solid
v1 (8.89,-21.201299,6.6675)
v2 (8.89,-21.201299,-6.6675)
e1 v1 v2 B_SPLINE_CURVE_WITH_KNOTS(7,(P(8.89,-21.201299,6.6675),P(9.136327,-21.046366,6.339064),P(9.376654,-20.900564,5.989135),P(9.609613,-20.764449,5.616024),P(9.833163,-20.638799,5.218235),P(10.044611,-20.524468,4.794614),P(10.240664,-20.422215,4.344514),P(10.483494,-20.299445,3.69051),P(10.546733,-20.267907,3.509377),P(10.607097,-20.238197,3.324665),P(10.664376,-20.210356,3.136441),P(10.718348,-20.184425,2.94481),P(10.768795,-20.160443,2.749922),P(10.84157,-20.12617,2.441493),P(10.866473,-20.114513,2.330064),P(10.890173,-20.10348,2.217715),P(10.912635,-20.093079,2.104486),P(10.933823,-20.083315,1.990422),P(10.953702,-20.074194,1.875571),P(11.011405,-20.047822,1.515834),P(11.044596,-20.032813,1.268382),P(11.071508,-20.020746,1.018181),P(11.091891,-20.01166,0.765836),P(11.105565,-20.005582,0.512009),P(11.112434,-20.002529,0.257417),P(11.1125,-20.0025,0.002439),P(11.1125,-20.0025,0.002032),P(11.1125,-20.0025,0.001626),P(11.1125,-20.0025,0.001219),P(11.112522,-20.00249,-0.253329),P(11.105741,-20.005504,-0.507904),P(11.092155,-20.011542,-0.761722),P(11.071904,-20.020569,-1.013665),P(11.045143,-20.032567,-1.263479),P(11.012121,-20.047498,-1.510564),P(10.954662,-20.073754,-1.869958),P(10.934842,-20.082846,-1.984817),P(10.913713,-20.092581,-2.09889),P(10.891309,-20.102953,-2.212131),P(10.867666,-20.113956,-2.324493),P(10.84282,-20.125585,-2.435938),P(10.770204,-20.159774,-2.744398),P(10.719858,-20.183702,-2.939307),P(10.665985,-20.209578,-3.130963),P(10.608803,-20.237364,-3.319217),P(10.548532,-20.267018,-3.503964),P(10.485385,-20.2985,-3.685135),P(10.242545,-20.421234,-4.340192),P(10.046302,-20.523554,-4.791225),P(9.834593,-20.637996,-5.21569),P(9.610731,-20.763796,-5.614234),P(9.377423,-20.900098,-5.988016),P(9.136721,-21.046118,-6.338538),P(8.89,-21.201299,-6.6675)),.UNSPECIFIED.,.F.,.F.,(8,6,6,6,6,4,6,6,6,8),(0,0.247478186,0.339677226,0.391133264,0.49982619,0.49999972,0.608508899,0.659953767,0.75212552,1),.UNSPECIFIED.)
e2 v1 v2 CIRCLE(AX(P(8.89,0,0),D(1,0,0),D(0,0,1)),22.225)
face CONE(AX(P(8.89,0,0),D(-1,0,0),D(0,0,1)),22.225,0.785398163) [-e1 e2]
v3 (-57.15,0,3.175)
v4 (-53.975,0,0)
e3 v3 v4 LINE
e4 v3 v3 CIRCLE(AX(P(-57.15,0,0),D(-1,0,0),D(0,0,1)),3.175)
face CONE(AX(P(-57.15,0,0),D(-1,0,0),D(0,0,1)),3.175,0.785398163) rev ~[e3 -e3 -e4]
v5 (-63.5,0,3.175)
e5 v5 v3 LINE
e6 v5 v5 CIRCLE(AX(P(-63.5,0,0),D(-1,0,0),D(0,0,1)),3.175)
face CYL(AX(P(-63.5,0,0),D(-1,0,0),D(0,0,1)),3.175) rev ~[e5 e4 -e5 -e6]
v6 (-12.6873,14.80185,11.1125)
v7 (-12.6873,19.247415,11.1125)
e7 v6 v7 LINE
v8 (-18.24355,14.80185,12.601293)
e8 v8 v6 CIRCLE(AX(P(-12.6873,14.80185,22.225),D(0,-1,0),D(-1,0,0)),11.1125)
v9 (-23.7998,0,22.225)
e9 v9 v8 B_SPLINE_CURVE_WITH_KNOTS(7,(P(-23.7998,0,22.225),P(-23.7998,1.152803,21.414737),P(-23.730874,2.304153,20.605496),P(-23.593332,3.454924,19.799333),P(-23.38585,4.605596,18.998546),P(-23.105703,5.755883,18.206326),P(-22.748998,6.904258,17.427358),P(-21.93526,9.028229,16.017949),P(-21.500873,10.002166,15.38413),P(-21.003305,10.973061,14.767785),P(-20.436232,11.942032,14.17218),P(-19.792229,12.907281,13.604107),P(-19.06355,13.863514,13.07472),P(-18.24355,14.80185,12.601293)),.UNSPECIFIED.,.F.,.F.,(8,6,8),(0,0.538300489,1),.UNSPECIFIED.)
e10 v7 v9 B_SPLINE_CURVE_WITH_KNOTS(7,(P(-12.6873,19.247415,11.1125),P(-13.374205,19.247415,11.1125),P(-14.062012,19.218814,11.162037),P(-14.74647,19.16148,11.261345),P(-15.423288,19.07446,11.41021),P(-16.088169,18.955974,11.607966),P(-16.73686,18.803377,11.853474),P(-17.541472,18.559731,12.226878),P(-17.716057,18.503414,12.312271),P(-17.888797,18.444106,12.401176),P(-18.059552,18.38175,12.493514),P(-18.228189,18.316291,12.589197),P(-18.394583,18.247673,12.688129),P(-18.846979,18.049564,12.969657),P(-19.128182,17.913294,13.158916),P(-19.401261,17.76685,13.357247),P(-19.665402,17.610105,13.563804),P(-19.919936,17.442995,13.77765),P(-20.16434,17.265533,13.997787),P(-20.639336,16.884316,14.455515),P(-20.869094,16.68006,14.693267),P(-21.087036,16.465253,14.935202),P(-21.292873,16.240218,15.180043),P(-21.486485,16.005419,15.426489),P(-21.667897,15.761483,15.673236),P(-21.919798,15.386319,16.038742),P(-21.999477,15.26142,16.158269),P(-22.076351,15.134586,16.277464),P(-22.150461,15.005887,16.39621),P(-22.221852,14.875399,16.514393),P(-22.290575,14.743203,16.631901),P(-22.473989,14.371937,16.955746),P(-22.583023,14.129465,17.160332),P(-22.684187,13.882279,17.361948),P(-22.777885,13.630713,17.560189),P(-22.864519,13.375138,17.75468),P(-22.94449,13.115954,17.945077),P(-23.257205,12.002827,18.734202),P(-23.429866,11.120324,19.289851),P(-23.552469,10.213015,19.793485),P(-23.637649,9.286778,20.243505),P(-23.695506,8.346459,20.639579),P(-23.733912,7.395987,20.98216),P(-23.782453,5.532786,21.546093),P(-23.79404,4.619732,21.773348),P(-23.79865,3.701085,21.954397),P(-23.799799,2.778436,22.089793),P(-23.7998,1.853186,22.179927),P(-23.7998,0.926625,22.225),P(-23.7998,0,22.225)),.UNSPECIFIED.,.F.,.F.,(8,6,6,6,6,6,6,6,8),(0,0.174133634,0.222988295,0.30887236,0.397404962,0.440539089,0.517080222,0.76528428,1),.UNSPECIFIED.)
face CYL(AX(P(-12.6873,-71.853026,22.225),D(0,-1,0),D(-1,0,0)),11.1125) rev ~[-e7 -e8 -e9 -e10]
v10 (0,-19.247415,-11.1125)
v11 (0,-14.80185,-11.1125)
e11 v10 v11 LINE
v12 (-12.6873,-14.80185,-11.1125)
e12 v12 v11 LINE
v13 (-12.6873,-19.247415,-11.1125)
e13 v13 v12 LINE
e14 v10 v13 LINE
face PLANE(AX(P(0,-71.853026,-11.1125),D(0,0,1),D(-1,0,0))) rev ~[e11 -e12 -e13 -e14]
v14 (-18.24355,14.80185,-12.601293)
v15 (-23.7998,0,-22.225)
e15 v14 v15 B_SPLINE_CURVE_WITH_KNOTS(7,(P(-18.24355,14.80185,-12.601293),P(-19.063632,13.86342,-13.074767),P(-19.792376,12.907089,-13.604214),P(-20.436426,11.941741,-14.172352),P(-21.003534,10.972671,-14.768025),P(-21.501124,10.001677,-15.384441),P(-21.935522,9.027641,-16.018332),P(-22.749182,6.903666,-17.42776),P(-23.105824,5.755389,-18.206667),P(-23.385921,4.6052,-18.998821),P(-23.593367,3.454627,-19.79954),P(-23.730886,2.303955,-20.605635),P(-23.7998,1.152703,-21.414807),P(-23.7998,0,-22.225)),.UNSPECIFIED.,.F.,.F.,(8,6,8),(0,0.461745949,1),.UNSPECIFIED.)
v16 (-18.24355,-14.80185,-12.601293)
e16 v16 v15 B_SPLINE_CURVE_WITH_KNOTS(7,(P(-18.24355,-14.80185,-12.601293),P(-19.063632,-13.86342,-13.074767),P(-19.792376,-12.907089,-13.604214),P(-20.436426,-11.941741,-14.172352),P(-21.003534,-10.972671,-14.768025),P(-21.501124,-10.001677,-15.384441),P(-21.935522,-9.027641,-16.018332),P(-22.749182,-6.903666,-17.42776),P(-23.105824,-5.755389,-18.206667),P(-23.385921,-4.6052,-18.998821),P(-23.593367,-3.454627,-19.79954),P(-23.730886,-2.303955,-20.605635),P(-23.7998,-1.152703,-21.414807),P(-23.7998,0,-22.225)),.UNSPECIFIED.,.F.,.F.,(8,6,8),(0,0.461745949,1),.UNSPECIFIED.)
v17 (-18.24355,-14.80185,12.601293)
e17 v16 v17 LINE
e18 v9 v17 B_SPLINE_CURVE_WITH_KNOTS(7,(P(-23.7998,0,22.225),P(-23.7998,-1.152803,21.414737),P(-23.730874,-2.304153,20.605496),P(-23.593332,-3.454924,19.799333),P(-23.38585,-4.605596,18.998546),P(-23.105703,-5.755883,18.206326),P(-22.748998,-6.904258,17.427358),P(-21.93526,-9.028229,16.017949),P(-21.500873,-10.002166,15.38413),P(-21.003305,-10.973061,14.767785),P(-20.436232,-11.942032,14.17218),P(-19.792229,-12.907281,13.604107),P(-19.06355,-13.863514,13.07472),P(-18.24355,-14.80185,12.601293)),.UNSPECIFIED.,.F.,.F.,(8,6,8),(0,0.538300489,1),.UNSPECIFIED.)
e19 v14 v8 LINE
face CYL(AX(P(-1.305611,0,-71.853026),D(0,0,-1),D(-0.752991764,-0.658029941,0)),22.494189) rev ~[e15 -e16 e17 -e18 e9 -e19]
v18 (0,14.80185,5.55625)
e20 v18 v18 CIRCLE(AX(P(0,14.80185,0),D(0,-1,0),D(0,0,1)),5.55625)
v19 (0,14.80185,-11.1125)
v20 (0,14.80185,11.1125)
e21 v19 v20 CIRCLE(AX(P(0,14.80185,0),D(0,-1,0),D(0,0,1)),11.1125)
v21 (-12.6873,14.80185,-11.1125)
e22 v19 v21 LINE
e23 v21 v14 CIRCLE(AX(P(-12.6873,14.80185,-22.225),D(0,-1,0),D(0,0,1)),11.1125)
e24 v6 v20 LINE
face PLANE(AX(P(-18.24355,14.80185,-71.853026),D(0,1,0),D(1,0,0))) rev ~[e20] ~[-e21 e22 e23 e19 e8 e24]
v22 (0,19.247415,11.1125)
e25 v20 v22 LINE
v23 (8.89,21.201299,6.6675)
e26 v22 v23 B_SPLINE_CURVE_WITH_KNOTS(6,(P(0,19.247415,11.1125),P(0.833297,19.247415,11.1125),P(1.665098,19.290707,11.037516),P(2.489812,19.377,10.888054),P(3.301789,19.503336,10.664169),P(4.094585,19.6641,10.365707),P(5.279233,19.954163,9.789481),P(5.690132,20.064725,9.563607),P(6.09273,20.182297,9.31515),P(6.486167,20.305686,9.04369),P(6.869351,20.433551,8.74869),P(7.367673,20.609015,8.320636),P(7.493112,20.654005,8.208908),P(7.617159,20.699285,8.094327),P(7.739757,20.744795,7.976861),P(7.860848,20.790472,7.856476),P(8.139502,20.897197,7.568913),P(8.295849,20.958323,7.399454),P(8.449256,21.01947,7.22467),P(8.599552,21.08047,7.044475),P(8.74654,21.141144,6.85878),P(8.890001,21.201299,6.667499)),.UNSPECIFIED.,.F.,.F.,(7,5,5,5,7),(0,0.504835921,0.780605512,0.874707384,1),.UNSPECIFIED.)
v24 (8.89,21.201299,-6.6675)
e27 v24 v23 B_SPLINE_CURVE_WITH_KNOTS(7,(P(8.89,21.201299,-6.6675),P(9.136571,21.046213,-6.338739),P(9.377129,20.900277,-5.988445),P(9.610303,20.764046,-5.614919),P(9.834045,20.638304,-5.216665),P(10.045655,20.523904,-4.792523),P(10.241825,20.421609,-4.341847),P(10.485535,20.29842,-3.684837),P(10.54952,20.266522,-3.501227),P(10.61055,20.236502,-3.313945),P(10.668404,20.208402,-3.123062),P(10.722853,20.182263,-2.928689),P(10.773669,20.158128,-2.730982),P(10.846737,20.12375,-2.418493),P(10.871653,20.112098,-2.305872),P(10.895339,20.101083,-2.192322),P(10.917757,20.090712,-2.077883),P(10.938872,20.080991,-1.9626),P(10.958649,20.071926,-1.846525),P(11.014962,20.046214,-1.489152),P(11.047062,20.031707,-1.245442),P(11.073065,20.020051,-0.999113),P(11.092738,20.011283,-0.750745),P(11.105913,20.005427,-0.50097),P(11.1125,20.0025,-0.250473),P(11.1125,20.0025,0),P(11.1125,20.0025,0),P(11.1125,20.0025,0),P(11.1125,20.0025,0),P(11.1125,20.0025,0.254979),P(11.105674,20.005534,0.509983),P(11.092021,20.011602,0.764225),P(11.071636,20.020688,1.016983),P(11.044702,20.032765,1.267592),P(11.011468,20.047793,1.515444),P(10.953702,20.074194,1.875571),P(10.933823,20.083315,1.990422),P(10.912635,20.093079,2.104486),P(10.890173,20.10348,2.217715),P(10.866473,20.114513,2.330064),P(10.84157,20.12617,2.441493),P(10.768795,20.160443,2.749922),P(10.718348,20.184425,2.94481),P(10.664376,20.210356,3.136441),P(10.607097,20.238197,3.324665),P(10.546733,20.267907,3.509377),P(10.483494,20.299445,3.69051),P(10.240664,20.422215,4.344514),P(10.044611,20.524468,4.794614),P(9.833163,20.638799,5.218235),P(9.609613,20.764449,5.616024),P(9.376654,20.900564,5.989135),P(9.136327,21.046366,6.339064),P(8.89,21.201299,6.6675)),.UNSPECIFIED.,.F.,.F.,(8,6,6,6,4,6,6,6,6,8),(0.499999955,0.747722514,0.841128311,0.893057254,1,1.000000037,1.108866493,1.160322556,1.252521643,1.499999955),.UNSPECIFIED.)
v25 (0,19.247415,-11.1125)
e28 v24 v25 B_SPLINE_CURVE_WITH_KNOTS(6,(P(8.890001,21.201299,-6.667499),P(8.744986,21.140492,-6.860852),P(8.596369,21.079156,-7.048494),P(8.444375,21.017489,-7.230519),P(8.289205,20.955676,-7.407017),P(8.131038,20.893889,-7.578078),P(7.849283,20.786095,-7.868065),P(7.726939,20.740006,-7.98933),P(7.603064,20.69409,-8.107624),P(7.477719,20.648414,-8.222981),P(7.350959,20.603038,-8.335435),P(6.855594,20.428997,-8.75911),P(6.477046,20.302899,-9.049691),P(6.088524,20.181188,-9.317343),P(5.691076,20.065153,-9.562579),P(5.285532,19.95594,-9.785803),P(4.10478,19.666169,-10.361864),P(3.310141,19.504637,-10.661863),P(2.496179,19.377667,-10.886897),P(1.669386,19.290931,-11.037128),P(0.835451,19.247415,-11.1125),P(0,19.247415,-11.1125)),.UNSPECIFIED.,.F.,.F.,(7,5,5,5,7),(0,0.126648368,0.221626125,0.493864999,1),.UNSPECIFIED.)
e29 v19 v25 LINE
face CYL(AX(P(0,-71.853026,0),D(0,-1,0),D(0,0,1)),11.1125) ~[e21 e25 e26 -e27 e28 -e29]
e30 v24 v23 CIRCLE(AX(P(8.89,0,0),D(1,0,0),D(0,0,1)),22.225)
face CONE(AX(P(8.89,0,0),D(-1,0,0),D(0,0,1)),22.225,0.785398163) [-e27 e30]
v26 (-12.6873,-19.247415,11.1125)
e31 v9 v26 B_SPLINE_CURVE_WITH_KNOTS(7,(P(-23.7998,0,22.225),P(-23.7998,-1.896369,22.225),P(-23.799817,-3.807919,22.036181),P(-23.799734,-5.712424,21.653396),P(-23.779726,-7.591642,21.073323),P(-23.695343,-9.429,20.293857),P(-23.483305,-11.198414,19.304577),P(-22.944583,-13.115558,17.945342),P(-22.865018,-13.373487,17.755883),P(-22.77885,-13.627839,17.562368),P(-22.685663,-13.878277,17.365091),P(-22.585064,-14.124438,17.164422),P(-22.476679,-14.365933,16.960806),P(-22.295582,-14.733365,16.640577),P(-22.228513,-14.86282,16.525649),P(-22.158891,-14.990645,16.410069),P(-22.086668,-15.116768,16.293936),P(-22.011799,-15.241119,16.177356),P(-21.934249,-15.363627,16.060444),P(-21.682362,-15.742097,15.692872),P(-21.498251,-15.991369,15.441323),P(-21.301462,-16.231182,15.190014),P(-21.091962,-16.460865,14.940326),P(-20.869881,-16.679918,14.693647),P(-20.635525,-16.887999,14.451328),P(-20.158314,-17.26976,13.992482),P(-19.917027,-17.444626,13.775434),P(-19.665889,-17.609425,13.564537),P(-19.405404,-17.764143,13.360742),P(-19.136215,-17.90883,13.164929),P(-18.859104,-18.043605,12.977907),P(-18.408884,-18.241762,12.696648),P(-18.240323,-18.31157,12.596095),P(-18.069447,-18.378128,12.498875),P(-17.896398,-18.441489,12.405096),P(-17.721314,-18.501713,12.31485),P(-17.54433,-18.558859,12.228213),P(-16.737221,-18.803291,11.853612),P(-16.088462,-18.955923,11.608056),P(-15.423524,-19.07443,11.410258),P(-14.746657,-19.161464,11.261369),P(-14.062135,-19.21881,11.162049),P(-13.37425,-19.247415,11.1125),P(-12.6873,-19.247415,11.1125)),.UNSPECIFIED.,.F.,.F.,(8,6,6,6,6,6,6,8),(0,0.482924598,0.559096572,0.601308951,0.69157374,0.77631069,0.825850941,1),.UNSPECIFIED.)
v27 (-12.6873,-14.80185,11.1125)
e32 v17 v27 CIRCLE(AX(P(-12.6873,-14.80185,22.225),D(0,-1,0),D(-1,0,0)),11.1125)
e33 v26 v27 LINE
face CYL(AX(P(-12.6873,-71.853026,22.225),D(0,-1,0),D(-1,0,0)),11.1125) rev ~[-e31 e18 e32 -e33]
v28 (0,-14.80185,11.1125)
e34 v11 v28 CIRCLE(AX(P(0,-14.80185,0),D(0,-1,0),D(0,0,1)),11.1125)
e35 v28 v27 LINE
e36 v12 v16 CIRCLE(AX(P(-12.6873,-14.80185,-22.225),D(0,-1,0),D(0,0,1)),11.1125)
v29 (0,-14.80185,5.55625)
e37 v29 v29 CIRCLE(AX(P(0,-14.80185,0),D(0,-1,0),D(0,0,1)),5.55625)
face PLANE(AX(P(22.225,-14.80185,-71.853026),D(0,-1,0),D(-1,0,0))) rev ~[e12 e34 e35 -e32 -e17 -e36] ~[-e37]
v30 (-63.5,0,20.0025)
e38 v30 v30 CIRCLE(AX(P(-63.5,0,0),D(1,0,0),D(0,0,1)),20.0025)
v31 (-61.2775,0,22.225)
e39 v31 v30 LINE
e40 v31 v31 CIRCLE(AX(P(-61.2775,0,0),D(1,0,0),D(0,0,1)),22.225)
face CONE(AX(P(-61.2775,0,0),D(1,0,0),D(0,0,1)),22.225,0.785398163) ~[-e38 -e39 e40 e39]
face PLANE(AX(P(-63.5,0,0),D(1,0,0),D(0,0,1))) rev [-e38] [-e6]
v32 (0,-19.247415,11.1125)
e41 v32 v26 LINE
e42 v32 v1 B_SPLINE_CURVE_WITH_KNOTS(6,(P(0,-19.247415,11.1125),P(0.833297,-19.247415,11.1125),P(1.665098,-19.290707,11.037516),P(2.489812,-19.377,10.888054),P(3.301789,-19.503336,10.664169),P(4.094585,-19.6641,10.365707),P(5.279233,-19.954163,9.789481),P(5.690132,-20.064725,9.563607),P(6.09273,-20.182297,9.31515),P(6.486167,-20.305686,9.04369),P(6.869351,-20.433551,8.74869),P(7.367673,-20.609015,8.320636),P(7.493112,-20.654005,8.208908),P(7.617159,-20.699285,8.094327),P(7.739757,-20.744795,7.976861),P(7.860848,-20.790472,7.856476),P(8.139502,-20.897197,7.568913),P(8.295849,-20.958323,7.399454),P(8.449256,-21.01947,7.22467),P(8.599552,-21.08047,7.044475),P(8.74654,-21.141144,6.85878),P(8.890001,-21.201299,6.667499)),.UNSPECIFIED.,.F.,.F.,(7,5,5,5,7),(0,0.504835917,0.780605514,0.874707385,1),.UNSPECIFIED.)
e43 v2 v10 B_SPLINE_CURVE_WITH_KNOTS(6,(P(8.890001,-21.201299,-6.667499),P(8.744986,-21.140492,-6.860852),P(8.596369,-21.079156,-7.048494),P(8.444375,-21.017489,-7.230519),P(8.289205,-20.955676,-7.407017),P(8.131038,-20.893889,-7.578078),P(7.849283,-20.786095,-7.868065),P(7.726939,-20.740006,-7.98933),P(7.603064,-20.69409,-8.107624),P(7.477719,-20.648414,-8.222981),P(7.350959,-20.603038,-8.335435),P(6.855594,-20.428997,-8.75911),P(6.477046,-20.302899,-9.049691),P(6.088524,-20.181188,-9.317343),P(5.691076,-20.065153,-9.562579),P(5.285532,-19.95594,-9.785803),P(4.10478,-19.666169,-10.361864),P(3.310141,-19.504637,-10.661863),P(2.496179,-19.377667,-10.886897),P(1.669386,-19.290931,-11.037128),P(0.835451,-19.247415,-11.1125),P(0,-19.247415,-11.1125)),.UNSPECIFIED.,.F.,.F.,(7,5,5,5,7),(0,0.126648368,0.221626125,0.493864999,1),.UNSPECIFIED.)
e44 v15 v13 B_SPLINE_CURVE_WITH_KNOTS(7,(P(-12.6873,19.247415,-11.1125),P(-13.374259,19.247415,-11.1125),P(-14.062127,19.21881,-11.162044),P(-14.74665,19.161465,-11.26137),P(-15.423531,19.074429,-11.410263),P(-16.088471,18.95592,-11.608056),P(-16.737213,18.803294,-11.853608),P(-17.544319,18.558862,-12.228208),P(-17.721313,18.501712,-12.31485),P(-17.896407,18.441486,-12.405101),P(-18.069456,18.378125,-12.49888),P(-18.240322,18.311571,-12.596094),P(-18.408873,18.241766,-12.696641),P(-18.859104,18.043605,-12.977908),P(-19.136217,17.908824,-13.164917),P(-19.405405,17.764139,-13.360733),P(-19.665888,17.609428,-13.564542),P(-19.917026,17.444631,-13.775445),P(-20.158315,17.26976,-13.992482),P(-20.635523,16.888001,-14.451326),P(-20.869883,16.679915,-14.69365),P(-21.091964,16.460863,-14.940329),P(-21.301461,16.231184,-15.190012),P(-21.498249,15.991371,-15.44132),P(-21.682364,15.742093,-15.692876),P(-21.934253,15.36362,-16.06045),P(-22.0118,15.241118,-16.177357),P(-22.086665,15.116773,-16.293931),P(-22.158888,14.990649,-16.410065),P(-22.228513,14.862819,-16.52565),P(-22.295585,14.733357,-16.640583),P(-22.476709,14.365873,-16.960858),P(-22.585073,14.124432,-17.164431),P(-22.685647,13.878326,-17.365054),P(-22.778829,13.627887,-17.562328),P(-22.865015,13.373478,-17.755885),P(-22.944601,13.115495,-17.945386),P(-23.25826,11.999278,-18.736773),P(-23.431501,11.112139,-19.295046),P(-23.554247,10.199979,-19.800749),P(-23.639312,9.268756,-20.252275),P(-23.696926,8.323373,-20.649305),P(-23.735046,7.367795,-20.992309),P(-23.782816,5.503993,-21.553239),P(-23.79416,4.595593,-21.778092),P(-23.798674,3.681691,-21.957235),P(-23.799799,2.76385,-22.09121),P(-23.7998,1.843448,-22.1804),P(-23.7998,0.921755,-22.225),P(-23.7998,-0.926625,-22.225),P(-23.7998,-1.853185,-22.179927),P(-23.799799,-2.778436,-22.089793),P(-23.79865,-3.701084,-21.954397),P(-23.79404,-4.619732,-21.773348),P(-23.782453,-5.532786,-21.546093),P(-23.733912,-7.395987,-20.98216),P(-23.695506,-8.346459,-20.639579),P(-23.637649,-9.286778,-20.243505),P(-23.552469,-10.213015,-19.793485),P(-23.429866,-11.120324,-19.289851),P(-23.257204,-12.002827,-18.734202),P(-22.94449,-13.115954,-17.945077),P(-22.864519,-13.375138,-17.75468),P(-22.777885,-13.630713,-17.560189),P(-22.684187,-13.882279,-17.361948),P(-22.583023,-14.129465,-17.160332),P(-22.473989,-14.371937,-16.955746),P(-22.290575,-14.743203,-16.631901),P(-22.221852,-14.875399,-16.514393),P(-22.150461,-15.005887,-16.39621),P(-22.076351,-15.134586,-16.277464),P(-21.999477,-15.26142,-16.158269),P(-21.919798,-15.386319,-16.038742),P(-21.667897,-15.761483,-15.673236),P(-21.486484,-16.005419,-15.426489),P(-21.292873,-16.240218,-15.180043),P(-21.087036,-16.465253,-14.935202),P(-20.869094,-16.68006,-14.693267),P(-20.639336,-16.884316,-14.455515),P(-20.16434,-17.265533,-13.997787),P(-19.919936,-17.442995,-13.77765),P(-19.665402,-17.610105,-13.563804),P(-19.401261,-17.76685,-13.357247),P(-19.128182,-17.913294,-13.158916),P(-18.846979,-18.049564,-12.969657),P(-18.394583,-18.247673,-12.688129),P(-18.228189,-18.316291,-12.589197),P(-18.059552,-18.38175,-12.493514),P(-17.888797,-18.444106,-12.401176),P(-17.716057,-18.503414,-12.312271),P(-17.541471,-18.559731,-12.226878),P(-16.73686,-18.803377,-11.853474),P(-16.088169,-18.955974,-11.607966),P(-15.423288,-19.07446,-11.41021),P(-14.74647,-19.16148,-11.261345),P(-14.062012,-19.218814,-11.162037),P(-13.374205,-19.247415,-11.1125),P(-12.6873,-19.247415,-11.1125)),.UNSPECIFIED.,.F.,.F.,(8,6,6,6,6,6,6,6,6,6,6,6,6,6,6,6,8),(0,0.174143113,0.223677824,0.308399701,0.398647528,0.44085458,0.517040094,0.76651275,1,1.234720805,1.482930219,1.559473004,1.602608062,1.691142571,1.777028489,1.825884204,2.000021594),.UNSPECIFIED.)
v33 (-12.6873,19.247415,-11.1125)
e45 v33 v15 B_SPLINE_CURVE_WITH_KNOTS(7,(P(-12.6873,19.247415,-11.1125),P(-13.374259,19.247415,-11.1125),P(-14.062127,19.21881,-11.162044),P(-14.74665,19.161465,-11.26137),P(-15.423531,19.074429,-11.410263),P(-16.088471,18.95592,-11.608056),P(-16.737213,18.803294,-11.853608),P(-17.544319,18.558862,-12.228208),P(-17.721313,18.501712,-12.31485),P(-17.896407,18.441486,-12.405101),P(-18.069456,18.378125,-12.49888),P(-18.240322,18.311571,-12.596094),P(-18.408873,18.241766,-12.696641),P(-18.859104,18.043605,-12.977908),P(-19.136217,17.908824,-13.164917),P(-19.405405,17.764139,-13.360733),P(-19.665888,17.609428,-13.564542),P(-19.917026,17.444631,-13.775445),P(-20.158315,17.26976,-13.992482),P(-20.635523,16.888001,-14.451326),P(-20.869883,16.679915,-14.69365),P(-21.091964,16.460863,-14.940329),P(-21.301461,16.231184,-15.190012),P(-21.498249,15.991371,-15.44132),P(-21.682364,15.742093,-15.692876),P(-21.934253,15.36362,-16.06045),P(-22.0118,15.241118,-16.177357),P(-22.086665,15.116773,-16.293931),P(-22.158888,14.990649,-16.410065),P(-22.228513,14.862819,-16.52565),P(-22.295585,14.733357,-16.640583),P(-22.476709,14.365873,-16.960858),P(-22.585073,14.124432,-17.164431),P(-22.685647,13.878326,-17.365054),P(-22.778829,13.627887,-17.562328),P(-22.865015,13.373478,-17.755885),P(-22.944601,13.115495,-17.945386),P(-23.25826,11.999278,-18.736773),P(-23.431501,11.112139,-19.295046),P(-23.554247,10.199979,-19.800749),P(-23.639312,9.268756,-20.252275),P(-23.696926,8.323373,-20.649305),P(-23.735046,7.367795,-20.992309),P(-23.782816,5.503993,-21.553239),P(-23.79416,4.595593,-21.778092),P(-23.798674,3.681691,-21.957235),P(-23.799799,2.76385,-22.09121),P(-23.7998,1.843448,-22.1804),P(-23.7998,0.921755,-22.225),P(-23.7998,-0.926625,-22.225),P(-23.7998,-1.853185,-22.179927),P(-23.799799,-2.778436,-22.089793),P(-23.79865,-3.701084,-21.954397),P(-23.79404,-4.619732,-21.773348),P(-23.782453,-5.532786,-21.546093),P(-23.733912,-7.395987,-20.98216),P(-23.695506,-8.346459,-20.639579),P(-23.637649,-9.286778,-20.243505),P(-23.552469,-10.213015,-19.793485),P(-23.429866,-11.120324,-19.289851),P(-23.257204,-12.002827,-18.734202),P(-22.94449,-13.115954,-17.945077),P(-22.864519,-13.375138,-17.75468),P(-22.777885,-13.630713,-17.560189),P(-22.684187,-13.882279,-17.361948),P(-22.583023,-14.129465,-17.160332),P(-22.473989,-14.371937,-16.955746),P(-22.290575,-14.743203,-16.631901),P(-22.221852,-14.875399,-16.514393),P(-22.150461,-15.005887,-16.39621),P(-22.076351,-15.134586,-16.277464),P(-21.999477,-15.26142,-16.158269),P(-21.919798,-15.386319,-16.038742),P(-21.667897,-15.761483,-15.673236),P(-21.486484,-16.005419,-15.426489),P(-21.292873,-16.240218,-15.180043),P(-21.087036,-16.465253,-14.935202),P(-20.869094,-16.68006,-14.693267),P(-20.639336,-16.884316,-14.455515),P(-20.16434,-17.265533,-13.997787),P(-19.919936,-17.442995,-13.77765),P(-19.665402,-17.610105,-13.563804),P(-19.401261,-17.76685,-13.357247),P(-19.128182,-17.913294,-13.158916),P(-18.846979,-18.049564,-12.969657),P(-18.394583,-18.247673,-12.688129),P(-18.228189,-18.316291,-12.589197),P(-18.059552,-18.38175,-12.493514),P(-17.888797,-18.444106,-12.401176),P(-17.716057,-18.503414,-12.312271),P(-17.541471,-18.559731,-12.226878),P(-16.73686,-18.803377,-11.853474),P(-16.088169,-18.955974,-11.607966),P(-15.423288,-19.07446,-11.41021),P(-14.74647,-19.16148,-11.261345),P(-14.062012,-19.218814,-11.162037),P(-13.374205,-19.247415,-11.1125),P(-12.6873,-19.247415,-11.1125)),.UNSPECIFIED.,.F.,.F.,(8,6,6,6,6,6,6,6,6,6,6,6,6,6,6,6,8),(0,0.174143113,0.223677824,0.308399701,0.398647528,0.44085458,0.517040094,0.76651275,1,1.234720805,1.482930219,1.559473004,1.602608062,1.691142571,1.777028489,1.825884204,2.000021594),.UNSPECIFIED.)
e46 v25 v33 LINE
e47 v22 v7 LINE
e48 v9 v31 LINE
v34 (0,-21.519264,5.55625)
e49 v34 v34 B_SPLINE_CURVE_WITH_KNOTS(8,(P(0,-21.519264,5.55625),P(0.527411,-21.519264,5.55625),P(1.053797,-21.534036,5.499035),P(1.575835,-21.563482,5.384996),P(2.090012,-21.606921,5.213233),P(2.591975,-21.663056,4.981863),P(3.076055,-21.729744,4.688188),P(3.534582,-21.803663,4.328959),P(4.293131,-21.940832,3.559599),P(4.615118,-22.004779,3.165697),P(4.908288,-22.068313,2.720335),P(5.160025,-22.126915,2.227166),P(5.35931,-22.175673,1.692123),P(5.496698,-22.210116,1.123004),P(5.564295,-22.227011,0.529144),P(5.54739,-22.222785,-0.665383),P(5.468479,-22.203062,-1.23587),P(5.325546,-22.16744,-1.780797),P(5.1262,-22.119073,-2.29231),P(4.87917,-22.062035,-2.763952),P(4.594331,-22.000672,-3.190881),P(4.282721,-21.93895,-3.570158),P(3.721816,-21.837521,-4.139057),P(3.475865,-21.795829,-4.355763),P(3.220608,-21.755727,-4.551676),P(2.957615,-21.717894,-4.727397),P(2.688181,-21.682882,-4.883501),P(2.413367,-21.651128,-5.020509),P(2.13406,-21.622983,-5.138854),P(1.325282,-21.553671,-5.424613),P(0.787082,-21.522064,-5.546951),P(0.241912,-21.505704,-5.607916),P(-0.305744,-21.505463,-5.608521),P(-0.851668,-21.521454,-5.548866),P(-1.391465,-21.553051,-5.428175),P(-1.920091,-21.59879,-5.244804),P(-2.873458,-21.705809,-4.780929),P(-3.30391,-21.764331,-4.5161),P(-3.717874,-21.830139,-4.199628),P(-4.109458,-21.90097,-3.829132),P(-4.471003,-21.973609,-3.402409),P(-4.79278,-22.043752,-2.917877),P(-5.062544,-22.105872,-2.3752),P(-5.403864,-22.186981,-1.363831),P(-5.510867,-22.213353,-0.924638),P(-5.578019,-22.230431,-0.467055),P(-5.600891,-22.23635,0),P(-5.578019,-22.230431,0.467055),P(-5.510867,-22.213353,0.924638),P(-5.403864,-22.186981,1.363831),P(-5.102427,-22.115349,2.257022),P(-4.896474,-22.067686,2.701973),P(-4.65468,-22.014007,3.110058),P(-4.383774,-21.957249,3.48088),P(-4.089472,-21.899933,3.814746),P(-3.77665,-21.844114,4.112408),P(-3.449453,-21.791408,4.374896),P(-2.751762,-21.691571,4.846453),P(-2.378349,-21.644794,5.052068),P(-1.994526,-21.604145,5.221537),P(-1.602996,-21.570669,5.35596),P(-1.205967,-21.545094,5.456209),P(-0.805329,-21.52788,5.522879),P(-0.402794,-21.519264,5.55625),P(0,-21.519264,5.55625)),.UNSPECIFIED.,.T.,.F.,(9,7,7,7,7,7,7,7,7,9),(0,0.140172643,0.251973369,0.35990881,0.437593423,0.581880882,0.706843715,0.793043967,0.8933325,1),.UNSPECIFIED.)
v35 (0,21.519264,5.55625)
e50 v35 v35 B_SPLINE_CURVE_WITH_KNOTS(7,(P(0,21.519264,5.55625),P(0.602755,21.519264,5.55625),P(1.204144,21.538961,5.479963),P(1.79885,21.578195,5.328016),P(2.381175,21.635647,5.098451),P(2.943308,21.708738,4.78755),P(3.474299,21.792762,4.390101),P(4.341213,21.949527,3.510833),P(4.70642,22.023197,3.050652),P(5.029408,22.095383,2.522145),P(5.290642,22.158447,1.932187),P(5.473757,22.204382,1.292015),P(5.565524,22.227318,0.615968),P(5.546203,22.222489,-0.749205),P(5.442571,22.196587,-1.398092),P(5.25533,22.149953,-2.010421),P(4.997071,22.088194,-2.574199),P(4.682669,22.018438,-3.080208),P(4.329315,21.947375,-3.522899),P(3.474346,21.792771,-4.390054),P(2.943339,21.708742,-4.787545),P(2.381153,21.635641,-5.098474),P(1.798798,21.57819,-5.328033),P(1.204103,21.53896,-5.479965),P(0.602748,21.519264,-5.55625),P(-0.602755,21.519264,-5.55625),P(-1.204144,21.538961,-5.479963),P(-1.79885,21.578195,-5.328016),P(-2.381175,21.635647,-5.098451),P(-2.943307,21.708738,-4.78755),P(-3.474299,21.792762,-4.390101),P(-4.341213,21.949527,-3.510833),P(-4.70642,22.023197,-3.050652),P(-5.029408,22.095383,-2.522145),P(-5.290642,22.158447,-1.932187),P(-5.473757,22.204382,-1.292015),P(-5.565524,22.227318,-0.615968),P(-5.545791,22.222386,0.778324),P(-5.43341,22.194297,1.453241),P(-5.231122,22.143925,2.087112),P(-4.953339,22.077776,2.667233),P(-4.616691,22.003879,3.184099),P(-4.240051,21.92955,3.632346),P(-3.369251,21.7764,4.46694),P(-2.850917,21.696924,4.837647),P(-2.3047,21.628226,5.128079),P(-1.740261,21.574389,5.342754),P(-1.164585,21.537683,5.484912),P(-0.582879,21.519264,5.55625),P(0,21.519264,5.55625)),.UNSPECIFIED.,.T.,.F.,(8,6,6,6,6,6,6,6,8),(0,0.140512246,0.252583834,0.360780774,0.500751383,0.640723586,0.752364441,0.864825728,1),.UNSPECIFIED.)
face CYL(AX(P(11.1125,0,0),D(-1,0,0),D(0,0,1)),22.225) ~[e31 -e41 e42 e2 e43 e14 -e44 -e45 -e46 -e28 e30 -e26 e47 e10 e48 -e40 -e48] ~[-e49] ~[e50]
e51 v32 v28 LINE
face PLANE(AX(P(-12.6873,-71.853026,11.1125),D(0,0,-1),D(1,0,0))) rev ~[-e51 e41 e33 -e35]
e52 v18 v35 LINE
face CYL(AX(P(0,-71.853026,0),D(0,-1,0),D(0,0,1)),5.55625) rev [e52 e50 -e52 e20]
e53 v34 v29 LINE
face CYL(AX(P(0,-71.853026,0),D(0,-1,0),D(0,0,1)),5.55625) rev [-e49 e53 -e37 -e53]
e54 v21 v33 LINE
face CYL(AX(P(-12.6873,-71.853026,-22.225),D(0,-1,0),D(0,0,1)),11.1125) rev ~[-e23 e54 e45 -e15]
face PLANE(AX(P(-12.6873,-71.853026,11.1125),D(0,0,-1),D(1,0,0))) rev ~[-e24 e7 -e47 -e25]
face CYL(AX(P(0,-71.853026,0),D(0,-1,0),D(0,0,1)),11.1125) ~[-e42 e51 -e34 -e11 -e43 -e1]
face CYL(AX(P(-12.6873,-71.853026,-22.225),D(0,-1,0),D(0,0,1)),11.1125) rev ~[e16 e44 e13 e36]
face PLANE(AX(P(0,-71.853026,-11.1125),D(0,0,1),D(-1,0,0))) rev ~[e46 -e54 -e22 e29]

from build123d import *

# Parameters (mm, degrees)
CHAMFER1_SIZE       = 2.2225
EXTRUDE1_DEPTH      = 71.853025694
EXTRUDE1_DEPTH_BACK = 71.853025694
EXTRUDE3_DEPTH      = 71.853025757
EXTRUDE3_DEPTH_BACK = 71.853025757
SKETCH4_R           = 3.175
EXTRUDE4_DEPTH      = 6.35
EXTRUDE6_DEPTH      = 71.853025757
EXTRUDE6_DEPTH_BACK = 71.853025757
SKETCH6_R           = 5.55625


with BuildPart() as part:
    # Sketch1 → Revolve1 (revolve)
    with BuildSketch(Plane(origin=(0, 0, 0), x_dir=(1, 0, 0), z_dir=(0, 1, 0)), mode=Mode.PRIVATE) as revolve1_sk:
        Polygon((-63.5, 22.225), (-23.01875, 22.225), (11.1125, 22.225), (11.1125, 0), (-63.5, 0), align=None)
    revolve(revolve1_sk.sketch.rotate(Axis((-63.5, 0, 0), (1, 0, 0)), 180), axis=Axis((-63.5, 0, 0), (1, 0, 0)))

    # Chamfer1
    chamfer1_edges = [part.edges().sort_by_distance(p)[0] for p in [
        (11.1125, 0, -22.225),
        (-63.5, 0, -22.225),
    ]]
    chamfer(chamfer1_edges, length=CHAMFER1_SIZE)

    # Sketch2 → Extrude1 (cut, two sides: drawn at the far end of the back side and taken through both)
    with BuildSketch(Plane(origin=(0, 0, 0), x_dir=(1, 0, 0), z_dir=(0, 1, 0)).offset(-EXTRUDE1_DEPTH_BACK)):
        with BuildLine():
            Line((-23.7998, 22.225), (22.225, 22.225))
            Line((22.225, 22.225), (22.225, -22.225))
            Line((22.225, -22.225), (-23.7998, -22.225))
            ThreePointArc((-23.7998, -22.225), (-20.545024106, -14.367275894), (-12.6873, -11.1125))
            Line((-12.6873, -11.1125), (0, -11.1125))
            ThreePointArc((0, -11.1125), (11.1125, 0), (0, 11.1125))
            Line((0, 11.1125), (-12.6873, 11.1125))
            ThreePointArc((-12.6873, 11.1125), (-20.545024106, 14.367275894), (-23.7998, 22.225))
        make_face()
    extrude(amount=EXTRUDE1_DEPTH + EXTRUDE1_DEPTH_BACK, mode=Mode.SUBTRACT)

    # Sketch3 → Extrude3 (cut, two sides: drawn at the far end of the back side and taken through both)
    with BuildSketch(Plane.XY.offset(-EXTRUDE3_DEPTH_BACK)):
        with BuildLine():
            Line((-18.24355, 14.80185), (22.225, 14.80185))
            Line((22.225, 14.80185), (22.225, -14.80185))
            Line((22.225, -14.80185), (-18.24355, -14.80185))
            ThreePointArc((-18.24355, -14.80185), (-23.7998, 0), (-18.24355, 14.80185))
        make_face()
    extrude(amount=EXTRUDE3_DEPTH + EXTRUDE3_DEPTH_BACK, mode=Mode.SUBTRACT)

    # Sketch4 → Extrude4 (cut)
    with BuildSketch(Plane.ZY.offset(63.5)):
        Circle(SKETCH4_R)
    extrude(amount=-EXTRUDE4_DEPTH, mode=Mode.SUBTRACT)

    # Extrude5 cone 1 section (through the dimple's axis) → Extrude5 (revolve, cut)
    with BuildSketch(Plane(origin=(-57.15, 0, 0), x_dir=(0, 0, 1), z_dir=(0, 1, 0))):
        Polygon((0, 0), (3.175, 0), (0, 3.175), align=None)
    revolve(axis=Axis((-57.15, 0, 0), (1, 0, 0)), mode=Mode.SUBTRACT)

    # Sketch6 → Extrude6 (cut, two sides: drawn at the far end of the back side and taken through both)
    with BuildSketch(Plane(origin=(0, 0, 0), x_dir=(1, 0, 0), z_dir=(0, 1, 0)).offset(-EXTRUDE6_DEPTH_BACK)):
        with Locations(Location((0, 0, 0), (0, 0, 270))):
            Circle(SKETCH6_R)
    extrude(amount=EXTRUDE6_DEPTH + EXTRUDE6_DEPTH_BACK, mode=Mode.SUBTRACT)


solid = part.part
